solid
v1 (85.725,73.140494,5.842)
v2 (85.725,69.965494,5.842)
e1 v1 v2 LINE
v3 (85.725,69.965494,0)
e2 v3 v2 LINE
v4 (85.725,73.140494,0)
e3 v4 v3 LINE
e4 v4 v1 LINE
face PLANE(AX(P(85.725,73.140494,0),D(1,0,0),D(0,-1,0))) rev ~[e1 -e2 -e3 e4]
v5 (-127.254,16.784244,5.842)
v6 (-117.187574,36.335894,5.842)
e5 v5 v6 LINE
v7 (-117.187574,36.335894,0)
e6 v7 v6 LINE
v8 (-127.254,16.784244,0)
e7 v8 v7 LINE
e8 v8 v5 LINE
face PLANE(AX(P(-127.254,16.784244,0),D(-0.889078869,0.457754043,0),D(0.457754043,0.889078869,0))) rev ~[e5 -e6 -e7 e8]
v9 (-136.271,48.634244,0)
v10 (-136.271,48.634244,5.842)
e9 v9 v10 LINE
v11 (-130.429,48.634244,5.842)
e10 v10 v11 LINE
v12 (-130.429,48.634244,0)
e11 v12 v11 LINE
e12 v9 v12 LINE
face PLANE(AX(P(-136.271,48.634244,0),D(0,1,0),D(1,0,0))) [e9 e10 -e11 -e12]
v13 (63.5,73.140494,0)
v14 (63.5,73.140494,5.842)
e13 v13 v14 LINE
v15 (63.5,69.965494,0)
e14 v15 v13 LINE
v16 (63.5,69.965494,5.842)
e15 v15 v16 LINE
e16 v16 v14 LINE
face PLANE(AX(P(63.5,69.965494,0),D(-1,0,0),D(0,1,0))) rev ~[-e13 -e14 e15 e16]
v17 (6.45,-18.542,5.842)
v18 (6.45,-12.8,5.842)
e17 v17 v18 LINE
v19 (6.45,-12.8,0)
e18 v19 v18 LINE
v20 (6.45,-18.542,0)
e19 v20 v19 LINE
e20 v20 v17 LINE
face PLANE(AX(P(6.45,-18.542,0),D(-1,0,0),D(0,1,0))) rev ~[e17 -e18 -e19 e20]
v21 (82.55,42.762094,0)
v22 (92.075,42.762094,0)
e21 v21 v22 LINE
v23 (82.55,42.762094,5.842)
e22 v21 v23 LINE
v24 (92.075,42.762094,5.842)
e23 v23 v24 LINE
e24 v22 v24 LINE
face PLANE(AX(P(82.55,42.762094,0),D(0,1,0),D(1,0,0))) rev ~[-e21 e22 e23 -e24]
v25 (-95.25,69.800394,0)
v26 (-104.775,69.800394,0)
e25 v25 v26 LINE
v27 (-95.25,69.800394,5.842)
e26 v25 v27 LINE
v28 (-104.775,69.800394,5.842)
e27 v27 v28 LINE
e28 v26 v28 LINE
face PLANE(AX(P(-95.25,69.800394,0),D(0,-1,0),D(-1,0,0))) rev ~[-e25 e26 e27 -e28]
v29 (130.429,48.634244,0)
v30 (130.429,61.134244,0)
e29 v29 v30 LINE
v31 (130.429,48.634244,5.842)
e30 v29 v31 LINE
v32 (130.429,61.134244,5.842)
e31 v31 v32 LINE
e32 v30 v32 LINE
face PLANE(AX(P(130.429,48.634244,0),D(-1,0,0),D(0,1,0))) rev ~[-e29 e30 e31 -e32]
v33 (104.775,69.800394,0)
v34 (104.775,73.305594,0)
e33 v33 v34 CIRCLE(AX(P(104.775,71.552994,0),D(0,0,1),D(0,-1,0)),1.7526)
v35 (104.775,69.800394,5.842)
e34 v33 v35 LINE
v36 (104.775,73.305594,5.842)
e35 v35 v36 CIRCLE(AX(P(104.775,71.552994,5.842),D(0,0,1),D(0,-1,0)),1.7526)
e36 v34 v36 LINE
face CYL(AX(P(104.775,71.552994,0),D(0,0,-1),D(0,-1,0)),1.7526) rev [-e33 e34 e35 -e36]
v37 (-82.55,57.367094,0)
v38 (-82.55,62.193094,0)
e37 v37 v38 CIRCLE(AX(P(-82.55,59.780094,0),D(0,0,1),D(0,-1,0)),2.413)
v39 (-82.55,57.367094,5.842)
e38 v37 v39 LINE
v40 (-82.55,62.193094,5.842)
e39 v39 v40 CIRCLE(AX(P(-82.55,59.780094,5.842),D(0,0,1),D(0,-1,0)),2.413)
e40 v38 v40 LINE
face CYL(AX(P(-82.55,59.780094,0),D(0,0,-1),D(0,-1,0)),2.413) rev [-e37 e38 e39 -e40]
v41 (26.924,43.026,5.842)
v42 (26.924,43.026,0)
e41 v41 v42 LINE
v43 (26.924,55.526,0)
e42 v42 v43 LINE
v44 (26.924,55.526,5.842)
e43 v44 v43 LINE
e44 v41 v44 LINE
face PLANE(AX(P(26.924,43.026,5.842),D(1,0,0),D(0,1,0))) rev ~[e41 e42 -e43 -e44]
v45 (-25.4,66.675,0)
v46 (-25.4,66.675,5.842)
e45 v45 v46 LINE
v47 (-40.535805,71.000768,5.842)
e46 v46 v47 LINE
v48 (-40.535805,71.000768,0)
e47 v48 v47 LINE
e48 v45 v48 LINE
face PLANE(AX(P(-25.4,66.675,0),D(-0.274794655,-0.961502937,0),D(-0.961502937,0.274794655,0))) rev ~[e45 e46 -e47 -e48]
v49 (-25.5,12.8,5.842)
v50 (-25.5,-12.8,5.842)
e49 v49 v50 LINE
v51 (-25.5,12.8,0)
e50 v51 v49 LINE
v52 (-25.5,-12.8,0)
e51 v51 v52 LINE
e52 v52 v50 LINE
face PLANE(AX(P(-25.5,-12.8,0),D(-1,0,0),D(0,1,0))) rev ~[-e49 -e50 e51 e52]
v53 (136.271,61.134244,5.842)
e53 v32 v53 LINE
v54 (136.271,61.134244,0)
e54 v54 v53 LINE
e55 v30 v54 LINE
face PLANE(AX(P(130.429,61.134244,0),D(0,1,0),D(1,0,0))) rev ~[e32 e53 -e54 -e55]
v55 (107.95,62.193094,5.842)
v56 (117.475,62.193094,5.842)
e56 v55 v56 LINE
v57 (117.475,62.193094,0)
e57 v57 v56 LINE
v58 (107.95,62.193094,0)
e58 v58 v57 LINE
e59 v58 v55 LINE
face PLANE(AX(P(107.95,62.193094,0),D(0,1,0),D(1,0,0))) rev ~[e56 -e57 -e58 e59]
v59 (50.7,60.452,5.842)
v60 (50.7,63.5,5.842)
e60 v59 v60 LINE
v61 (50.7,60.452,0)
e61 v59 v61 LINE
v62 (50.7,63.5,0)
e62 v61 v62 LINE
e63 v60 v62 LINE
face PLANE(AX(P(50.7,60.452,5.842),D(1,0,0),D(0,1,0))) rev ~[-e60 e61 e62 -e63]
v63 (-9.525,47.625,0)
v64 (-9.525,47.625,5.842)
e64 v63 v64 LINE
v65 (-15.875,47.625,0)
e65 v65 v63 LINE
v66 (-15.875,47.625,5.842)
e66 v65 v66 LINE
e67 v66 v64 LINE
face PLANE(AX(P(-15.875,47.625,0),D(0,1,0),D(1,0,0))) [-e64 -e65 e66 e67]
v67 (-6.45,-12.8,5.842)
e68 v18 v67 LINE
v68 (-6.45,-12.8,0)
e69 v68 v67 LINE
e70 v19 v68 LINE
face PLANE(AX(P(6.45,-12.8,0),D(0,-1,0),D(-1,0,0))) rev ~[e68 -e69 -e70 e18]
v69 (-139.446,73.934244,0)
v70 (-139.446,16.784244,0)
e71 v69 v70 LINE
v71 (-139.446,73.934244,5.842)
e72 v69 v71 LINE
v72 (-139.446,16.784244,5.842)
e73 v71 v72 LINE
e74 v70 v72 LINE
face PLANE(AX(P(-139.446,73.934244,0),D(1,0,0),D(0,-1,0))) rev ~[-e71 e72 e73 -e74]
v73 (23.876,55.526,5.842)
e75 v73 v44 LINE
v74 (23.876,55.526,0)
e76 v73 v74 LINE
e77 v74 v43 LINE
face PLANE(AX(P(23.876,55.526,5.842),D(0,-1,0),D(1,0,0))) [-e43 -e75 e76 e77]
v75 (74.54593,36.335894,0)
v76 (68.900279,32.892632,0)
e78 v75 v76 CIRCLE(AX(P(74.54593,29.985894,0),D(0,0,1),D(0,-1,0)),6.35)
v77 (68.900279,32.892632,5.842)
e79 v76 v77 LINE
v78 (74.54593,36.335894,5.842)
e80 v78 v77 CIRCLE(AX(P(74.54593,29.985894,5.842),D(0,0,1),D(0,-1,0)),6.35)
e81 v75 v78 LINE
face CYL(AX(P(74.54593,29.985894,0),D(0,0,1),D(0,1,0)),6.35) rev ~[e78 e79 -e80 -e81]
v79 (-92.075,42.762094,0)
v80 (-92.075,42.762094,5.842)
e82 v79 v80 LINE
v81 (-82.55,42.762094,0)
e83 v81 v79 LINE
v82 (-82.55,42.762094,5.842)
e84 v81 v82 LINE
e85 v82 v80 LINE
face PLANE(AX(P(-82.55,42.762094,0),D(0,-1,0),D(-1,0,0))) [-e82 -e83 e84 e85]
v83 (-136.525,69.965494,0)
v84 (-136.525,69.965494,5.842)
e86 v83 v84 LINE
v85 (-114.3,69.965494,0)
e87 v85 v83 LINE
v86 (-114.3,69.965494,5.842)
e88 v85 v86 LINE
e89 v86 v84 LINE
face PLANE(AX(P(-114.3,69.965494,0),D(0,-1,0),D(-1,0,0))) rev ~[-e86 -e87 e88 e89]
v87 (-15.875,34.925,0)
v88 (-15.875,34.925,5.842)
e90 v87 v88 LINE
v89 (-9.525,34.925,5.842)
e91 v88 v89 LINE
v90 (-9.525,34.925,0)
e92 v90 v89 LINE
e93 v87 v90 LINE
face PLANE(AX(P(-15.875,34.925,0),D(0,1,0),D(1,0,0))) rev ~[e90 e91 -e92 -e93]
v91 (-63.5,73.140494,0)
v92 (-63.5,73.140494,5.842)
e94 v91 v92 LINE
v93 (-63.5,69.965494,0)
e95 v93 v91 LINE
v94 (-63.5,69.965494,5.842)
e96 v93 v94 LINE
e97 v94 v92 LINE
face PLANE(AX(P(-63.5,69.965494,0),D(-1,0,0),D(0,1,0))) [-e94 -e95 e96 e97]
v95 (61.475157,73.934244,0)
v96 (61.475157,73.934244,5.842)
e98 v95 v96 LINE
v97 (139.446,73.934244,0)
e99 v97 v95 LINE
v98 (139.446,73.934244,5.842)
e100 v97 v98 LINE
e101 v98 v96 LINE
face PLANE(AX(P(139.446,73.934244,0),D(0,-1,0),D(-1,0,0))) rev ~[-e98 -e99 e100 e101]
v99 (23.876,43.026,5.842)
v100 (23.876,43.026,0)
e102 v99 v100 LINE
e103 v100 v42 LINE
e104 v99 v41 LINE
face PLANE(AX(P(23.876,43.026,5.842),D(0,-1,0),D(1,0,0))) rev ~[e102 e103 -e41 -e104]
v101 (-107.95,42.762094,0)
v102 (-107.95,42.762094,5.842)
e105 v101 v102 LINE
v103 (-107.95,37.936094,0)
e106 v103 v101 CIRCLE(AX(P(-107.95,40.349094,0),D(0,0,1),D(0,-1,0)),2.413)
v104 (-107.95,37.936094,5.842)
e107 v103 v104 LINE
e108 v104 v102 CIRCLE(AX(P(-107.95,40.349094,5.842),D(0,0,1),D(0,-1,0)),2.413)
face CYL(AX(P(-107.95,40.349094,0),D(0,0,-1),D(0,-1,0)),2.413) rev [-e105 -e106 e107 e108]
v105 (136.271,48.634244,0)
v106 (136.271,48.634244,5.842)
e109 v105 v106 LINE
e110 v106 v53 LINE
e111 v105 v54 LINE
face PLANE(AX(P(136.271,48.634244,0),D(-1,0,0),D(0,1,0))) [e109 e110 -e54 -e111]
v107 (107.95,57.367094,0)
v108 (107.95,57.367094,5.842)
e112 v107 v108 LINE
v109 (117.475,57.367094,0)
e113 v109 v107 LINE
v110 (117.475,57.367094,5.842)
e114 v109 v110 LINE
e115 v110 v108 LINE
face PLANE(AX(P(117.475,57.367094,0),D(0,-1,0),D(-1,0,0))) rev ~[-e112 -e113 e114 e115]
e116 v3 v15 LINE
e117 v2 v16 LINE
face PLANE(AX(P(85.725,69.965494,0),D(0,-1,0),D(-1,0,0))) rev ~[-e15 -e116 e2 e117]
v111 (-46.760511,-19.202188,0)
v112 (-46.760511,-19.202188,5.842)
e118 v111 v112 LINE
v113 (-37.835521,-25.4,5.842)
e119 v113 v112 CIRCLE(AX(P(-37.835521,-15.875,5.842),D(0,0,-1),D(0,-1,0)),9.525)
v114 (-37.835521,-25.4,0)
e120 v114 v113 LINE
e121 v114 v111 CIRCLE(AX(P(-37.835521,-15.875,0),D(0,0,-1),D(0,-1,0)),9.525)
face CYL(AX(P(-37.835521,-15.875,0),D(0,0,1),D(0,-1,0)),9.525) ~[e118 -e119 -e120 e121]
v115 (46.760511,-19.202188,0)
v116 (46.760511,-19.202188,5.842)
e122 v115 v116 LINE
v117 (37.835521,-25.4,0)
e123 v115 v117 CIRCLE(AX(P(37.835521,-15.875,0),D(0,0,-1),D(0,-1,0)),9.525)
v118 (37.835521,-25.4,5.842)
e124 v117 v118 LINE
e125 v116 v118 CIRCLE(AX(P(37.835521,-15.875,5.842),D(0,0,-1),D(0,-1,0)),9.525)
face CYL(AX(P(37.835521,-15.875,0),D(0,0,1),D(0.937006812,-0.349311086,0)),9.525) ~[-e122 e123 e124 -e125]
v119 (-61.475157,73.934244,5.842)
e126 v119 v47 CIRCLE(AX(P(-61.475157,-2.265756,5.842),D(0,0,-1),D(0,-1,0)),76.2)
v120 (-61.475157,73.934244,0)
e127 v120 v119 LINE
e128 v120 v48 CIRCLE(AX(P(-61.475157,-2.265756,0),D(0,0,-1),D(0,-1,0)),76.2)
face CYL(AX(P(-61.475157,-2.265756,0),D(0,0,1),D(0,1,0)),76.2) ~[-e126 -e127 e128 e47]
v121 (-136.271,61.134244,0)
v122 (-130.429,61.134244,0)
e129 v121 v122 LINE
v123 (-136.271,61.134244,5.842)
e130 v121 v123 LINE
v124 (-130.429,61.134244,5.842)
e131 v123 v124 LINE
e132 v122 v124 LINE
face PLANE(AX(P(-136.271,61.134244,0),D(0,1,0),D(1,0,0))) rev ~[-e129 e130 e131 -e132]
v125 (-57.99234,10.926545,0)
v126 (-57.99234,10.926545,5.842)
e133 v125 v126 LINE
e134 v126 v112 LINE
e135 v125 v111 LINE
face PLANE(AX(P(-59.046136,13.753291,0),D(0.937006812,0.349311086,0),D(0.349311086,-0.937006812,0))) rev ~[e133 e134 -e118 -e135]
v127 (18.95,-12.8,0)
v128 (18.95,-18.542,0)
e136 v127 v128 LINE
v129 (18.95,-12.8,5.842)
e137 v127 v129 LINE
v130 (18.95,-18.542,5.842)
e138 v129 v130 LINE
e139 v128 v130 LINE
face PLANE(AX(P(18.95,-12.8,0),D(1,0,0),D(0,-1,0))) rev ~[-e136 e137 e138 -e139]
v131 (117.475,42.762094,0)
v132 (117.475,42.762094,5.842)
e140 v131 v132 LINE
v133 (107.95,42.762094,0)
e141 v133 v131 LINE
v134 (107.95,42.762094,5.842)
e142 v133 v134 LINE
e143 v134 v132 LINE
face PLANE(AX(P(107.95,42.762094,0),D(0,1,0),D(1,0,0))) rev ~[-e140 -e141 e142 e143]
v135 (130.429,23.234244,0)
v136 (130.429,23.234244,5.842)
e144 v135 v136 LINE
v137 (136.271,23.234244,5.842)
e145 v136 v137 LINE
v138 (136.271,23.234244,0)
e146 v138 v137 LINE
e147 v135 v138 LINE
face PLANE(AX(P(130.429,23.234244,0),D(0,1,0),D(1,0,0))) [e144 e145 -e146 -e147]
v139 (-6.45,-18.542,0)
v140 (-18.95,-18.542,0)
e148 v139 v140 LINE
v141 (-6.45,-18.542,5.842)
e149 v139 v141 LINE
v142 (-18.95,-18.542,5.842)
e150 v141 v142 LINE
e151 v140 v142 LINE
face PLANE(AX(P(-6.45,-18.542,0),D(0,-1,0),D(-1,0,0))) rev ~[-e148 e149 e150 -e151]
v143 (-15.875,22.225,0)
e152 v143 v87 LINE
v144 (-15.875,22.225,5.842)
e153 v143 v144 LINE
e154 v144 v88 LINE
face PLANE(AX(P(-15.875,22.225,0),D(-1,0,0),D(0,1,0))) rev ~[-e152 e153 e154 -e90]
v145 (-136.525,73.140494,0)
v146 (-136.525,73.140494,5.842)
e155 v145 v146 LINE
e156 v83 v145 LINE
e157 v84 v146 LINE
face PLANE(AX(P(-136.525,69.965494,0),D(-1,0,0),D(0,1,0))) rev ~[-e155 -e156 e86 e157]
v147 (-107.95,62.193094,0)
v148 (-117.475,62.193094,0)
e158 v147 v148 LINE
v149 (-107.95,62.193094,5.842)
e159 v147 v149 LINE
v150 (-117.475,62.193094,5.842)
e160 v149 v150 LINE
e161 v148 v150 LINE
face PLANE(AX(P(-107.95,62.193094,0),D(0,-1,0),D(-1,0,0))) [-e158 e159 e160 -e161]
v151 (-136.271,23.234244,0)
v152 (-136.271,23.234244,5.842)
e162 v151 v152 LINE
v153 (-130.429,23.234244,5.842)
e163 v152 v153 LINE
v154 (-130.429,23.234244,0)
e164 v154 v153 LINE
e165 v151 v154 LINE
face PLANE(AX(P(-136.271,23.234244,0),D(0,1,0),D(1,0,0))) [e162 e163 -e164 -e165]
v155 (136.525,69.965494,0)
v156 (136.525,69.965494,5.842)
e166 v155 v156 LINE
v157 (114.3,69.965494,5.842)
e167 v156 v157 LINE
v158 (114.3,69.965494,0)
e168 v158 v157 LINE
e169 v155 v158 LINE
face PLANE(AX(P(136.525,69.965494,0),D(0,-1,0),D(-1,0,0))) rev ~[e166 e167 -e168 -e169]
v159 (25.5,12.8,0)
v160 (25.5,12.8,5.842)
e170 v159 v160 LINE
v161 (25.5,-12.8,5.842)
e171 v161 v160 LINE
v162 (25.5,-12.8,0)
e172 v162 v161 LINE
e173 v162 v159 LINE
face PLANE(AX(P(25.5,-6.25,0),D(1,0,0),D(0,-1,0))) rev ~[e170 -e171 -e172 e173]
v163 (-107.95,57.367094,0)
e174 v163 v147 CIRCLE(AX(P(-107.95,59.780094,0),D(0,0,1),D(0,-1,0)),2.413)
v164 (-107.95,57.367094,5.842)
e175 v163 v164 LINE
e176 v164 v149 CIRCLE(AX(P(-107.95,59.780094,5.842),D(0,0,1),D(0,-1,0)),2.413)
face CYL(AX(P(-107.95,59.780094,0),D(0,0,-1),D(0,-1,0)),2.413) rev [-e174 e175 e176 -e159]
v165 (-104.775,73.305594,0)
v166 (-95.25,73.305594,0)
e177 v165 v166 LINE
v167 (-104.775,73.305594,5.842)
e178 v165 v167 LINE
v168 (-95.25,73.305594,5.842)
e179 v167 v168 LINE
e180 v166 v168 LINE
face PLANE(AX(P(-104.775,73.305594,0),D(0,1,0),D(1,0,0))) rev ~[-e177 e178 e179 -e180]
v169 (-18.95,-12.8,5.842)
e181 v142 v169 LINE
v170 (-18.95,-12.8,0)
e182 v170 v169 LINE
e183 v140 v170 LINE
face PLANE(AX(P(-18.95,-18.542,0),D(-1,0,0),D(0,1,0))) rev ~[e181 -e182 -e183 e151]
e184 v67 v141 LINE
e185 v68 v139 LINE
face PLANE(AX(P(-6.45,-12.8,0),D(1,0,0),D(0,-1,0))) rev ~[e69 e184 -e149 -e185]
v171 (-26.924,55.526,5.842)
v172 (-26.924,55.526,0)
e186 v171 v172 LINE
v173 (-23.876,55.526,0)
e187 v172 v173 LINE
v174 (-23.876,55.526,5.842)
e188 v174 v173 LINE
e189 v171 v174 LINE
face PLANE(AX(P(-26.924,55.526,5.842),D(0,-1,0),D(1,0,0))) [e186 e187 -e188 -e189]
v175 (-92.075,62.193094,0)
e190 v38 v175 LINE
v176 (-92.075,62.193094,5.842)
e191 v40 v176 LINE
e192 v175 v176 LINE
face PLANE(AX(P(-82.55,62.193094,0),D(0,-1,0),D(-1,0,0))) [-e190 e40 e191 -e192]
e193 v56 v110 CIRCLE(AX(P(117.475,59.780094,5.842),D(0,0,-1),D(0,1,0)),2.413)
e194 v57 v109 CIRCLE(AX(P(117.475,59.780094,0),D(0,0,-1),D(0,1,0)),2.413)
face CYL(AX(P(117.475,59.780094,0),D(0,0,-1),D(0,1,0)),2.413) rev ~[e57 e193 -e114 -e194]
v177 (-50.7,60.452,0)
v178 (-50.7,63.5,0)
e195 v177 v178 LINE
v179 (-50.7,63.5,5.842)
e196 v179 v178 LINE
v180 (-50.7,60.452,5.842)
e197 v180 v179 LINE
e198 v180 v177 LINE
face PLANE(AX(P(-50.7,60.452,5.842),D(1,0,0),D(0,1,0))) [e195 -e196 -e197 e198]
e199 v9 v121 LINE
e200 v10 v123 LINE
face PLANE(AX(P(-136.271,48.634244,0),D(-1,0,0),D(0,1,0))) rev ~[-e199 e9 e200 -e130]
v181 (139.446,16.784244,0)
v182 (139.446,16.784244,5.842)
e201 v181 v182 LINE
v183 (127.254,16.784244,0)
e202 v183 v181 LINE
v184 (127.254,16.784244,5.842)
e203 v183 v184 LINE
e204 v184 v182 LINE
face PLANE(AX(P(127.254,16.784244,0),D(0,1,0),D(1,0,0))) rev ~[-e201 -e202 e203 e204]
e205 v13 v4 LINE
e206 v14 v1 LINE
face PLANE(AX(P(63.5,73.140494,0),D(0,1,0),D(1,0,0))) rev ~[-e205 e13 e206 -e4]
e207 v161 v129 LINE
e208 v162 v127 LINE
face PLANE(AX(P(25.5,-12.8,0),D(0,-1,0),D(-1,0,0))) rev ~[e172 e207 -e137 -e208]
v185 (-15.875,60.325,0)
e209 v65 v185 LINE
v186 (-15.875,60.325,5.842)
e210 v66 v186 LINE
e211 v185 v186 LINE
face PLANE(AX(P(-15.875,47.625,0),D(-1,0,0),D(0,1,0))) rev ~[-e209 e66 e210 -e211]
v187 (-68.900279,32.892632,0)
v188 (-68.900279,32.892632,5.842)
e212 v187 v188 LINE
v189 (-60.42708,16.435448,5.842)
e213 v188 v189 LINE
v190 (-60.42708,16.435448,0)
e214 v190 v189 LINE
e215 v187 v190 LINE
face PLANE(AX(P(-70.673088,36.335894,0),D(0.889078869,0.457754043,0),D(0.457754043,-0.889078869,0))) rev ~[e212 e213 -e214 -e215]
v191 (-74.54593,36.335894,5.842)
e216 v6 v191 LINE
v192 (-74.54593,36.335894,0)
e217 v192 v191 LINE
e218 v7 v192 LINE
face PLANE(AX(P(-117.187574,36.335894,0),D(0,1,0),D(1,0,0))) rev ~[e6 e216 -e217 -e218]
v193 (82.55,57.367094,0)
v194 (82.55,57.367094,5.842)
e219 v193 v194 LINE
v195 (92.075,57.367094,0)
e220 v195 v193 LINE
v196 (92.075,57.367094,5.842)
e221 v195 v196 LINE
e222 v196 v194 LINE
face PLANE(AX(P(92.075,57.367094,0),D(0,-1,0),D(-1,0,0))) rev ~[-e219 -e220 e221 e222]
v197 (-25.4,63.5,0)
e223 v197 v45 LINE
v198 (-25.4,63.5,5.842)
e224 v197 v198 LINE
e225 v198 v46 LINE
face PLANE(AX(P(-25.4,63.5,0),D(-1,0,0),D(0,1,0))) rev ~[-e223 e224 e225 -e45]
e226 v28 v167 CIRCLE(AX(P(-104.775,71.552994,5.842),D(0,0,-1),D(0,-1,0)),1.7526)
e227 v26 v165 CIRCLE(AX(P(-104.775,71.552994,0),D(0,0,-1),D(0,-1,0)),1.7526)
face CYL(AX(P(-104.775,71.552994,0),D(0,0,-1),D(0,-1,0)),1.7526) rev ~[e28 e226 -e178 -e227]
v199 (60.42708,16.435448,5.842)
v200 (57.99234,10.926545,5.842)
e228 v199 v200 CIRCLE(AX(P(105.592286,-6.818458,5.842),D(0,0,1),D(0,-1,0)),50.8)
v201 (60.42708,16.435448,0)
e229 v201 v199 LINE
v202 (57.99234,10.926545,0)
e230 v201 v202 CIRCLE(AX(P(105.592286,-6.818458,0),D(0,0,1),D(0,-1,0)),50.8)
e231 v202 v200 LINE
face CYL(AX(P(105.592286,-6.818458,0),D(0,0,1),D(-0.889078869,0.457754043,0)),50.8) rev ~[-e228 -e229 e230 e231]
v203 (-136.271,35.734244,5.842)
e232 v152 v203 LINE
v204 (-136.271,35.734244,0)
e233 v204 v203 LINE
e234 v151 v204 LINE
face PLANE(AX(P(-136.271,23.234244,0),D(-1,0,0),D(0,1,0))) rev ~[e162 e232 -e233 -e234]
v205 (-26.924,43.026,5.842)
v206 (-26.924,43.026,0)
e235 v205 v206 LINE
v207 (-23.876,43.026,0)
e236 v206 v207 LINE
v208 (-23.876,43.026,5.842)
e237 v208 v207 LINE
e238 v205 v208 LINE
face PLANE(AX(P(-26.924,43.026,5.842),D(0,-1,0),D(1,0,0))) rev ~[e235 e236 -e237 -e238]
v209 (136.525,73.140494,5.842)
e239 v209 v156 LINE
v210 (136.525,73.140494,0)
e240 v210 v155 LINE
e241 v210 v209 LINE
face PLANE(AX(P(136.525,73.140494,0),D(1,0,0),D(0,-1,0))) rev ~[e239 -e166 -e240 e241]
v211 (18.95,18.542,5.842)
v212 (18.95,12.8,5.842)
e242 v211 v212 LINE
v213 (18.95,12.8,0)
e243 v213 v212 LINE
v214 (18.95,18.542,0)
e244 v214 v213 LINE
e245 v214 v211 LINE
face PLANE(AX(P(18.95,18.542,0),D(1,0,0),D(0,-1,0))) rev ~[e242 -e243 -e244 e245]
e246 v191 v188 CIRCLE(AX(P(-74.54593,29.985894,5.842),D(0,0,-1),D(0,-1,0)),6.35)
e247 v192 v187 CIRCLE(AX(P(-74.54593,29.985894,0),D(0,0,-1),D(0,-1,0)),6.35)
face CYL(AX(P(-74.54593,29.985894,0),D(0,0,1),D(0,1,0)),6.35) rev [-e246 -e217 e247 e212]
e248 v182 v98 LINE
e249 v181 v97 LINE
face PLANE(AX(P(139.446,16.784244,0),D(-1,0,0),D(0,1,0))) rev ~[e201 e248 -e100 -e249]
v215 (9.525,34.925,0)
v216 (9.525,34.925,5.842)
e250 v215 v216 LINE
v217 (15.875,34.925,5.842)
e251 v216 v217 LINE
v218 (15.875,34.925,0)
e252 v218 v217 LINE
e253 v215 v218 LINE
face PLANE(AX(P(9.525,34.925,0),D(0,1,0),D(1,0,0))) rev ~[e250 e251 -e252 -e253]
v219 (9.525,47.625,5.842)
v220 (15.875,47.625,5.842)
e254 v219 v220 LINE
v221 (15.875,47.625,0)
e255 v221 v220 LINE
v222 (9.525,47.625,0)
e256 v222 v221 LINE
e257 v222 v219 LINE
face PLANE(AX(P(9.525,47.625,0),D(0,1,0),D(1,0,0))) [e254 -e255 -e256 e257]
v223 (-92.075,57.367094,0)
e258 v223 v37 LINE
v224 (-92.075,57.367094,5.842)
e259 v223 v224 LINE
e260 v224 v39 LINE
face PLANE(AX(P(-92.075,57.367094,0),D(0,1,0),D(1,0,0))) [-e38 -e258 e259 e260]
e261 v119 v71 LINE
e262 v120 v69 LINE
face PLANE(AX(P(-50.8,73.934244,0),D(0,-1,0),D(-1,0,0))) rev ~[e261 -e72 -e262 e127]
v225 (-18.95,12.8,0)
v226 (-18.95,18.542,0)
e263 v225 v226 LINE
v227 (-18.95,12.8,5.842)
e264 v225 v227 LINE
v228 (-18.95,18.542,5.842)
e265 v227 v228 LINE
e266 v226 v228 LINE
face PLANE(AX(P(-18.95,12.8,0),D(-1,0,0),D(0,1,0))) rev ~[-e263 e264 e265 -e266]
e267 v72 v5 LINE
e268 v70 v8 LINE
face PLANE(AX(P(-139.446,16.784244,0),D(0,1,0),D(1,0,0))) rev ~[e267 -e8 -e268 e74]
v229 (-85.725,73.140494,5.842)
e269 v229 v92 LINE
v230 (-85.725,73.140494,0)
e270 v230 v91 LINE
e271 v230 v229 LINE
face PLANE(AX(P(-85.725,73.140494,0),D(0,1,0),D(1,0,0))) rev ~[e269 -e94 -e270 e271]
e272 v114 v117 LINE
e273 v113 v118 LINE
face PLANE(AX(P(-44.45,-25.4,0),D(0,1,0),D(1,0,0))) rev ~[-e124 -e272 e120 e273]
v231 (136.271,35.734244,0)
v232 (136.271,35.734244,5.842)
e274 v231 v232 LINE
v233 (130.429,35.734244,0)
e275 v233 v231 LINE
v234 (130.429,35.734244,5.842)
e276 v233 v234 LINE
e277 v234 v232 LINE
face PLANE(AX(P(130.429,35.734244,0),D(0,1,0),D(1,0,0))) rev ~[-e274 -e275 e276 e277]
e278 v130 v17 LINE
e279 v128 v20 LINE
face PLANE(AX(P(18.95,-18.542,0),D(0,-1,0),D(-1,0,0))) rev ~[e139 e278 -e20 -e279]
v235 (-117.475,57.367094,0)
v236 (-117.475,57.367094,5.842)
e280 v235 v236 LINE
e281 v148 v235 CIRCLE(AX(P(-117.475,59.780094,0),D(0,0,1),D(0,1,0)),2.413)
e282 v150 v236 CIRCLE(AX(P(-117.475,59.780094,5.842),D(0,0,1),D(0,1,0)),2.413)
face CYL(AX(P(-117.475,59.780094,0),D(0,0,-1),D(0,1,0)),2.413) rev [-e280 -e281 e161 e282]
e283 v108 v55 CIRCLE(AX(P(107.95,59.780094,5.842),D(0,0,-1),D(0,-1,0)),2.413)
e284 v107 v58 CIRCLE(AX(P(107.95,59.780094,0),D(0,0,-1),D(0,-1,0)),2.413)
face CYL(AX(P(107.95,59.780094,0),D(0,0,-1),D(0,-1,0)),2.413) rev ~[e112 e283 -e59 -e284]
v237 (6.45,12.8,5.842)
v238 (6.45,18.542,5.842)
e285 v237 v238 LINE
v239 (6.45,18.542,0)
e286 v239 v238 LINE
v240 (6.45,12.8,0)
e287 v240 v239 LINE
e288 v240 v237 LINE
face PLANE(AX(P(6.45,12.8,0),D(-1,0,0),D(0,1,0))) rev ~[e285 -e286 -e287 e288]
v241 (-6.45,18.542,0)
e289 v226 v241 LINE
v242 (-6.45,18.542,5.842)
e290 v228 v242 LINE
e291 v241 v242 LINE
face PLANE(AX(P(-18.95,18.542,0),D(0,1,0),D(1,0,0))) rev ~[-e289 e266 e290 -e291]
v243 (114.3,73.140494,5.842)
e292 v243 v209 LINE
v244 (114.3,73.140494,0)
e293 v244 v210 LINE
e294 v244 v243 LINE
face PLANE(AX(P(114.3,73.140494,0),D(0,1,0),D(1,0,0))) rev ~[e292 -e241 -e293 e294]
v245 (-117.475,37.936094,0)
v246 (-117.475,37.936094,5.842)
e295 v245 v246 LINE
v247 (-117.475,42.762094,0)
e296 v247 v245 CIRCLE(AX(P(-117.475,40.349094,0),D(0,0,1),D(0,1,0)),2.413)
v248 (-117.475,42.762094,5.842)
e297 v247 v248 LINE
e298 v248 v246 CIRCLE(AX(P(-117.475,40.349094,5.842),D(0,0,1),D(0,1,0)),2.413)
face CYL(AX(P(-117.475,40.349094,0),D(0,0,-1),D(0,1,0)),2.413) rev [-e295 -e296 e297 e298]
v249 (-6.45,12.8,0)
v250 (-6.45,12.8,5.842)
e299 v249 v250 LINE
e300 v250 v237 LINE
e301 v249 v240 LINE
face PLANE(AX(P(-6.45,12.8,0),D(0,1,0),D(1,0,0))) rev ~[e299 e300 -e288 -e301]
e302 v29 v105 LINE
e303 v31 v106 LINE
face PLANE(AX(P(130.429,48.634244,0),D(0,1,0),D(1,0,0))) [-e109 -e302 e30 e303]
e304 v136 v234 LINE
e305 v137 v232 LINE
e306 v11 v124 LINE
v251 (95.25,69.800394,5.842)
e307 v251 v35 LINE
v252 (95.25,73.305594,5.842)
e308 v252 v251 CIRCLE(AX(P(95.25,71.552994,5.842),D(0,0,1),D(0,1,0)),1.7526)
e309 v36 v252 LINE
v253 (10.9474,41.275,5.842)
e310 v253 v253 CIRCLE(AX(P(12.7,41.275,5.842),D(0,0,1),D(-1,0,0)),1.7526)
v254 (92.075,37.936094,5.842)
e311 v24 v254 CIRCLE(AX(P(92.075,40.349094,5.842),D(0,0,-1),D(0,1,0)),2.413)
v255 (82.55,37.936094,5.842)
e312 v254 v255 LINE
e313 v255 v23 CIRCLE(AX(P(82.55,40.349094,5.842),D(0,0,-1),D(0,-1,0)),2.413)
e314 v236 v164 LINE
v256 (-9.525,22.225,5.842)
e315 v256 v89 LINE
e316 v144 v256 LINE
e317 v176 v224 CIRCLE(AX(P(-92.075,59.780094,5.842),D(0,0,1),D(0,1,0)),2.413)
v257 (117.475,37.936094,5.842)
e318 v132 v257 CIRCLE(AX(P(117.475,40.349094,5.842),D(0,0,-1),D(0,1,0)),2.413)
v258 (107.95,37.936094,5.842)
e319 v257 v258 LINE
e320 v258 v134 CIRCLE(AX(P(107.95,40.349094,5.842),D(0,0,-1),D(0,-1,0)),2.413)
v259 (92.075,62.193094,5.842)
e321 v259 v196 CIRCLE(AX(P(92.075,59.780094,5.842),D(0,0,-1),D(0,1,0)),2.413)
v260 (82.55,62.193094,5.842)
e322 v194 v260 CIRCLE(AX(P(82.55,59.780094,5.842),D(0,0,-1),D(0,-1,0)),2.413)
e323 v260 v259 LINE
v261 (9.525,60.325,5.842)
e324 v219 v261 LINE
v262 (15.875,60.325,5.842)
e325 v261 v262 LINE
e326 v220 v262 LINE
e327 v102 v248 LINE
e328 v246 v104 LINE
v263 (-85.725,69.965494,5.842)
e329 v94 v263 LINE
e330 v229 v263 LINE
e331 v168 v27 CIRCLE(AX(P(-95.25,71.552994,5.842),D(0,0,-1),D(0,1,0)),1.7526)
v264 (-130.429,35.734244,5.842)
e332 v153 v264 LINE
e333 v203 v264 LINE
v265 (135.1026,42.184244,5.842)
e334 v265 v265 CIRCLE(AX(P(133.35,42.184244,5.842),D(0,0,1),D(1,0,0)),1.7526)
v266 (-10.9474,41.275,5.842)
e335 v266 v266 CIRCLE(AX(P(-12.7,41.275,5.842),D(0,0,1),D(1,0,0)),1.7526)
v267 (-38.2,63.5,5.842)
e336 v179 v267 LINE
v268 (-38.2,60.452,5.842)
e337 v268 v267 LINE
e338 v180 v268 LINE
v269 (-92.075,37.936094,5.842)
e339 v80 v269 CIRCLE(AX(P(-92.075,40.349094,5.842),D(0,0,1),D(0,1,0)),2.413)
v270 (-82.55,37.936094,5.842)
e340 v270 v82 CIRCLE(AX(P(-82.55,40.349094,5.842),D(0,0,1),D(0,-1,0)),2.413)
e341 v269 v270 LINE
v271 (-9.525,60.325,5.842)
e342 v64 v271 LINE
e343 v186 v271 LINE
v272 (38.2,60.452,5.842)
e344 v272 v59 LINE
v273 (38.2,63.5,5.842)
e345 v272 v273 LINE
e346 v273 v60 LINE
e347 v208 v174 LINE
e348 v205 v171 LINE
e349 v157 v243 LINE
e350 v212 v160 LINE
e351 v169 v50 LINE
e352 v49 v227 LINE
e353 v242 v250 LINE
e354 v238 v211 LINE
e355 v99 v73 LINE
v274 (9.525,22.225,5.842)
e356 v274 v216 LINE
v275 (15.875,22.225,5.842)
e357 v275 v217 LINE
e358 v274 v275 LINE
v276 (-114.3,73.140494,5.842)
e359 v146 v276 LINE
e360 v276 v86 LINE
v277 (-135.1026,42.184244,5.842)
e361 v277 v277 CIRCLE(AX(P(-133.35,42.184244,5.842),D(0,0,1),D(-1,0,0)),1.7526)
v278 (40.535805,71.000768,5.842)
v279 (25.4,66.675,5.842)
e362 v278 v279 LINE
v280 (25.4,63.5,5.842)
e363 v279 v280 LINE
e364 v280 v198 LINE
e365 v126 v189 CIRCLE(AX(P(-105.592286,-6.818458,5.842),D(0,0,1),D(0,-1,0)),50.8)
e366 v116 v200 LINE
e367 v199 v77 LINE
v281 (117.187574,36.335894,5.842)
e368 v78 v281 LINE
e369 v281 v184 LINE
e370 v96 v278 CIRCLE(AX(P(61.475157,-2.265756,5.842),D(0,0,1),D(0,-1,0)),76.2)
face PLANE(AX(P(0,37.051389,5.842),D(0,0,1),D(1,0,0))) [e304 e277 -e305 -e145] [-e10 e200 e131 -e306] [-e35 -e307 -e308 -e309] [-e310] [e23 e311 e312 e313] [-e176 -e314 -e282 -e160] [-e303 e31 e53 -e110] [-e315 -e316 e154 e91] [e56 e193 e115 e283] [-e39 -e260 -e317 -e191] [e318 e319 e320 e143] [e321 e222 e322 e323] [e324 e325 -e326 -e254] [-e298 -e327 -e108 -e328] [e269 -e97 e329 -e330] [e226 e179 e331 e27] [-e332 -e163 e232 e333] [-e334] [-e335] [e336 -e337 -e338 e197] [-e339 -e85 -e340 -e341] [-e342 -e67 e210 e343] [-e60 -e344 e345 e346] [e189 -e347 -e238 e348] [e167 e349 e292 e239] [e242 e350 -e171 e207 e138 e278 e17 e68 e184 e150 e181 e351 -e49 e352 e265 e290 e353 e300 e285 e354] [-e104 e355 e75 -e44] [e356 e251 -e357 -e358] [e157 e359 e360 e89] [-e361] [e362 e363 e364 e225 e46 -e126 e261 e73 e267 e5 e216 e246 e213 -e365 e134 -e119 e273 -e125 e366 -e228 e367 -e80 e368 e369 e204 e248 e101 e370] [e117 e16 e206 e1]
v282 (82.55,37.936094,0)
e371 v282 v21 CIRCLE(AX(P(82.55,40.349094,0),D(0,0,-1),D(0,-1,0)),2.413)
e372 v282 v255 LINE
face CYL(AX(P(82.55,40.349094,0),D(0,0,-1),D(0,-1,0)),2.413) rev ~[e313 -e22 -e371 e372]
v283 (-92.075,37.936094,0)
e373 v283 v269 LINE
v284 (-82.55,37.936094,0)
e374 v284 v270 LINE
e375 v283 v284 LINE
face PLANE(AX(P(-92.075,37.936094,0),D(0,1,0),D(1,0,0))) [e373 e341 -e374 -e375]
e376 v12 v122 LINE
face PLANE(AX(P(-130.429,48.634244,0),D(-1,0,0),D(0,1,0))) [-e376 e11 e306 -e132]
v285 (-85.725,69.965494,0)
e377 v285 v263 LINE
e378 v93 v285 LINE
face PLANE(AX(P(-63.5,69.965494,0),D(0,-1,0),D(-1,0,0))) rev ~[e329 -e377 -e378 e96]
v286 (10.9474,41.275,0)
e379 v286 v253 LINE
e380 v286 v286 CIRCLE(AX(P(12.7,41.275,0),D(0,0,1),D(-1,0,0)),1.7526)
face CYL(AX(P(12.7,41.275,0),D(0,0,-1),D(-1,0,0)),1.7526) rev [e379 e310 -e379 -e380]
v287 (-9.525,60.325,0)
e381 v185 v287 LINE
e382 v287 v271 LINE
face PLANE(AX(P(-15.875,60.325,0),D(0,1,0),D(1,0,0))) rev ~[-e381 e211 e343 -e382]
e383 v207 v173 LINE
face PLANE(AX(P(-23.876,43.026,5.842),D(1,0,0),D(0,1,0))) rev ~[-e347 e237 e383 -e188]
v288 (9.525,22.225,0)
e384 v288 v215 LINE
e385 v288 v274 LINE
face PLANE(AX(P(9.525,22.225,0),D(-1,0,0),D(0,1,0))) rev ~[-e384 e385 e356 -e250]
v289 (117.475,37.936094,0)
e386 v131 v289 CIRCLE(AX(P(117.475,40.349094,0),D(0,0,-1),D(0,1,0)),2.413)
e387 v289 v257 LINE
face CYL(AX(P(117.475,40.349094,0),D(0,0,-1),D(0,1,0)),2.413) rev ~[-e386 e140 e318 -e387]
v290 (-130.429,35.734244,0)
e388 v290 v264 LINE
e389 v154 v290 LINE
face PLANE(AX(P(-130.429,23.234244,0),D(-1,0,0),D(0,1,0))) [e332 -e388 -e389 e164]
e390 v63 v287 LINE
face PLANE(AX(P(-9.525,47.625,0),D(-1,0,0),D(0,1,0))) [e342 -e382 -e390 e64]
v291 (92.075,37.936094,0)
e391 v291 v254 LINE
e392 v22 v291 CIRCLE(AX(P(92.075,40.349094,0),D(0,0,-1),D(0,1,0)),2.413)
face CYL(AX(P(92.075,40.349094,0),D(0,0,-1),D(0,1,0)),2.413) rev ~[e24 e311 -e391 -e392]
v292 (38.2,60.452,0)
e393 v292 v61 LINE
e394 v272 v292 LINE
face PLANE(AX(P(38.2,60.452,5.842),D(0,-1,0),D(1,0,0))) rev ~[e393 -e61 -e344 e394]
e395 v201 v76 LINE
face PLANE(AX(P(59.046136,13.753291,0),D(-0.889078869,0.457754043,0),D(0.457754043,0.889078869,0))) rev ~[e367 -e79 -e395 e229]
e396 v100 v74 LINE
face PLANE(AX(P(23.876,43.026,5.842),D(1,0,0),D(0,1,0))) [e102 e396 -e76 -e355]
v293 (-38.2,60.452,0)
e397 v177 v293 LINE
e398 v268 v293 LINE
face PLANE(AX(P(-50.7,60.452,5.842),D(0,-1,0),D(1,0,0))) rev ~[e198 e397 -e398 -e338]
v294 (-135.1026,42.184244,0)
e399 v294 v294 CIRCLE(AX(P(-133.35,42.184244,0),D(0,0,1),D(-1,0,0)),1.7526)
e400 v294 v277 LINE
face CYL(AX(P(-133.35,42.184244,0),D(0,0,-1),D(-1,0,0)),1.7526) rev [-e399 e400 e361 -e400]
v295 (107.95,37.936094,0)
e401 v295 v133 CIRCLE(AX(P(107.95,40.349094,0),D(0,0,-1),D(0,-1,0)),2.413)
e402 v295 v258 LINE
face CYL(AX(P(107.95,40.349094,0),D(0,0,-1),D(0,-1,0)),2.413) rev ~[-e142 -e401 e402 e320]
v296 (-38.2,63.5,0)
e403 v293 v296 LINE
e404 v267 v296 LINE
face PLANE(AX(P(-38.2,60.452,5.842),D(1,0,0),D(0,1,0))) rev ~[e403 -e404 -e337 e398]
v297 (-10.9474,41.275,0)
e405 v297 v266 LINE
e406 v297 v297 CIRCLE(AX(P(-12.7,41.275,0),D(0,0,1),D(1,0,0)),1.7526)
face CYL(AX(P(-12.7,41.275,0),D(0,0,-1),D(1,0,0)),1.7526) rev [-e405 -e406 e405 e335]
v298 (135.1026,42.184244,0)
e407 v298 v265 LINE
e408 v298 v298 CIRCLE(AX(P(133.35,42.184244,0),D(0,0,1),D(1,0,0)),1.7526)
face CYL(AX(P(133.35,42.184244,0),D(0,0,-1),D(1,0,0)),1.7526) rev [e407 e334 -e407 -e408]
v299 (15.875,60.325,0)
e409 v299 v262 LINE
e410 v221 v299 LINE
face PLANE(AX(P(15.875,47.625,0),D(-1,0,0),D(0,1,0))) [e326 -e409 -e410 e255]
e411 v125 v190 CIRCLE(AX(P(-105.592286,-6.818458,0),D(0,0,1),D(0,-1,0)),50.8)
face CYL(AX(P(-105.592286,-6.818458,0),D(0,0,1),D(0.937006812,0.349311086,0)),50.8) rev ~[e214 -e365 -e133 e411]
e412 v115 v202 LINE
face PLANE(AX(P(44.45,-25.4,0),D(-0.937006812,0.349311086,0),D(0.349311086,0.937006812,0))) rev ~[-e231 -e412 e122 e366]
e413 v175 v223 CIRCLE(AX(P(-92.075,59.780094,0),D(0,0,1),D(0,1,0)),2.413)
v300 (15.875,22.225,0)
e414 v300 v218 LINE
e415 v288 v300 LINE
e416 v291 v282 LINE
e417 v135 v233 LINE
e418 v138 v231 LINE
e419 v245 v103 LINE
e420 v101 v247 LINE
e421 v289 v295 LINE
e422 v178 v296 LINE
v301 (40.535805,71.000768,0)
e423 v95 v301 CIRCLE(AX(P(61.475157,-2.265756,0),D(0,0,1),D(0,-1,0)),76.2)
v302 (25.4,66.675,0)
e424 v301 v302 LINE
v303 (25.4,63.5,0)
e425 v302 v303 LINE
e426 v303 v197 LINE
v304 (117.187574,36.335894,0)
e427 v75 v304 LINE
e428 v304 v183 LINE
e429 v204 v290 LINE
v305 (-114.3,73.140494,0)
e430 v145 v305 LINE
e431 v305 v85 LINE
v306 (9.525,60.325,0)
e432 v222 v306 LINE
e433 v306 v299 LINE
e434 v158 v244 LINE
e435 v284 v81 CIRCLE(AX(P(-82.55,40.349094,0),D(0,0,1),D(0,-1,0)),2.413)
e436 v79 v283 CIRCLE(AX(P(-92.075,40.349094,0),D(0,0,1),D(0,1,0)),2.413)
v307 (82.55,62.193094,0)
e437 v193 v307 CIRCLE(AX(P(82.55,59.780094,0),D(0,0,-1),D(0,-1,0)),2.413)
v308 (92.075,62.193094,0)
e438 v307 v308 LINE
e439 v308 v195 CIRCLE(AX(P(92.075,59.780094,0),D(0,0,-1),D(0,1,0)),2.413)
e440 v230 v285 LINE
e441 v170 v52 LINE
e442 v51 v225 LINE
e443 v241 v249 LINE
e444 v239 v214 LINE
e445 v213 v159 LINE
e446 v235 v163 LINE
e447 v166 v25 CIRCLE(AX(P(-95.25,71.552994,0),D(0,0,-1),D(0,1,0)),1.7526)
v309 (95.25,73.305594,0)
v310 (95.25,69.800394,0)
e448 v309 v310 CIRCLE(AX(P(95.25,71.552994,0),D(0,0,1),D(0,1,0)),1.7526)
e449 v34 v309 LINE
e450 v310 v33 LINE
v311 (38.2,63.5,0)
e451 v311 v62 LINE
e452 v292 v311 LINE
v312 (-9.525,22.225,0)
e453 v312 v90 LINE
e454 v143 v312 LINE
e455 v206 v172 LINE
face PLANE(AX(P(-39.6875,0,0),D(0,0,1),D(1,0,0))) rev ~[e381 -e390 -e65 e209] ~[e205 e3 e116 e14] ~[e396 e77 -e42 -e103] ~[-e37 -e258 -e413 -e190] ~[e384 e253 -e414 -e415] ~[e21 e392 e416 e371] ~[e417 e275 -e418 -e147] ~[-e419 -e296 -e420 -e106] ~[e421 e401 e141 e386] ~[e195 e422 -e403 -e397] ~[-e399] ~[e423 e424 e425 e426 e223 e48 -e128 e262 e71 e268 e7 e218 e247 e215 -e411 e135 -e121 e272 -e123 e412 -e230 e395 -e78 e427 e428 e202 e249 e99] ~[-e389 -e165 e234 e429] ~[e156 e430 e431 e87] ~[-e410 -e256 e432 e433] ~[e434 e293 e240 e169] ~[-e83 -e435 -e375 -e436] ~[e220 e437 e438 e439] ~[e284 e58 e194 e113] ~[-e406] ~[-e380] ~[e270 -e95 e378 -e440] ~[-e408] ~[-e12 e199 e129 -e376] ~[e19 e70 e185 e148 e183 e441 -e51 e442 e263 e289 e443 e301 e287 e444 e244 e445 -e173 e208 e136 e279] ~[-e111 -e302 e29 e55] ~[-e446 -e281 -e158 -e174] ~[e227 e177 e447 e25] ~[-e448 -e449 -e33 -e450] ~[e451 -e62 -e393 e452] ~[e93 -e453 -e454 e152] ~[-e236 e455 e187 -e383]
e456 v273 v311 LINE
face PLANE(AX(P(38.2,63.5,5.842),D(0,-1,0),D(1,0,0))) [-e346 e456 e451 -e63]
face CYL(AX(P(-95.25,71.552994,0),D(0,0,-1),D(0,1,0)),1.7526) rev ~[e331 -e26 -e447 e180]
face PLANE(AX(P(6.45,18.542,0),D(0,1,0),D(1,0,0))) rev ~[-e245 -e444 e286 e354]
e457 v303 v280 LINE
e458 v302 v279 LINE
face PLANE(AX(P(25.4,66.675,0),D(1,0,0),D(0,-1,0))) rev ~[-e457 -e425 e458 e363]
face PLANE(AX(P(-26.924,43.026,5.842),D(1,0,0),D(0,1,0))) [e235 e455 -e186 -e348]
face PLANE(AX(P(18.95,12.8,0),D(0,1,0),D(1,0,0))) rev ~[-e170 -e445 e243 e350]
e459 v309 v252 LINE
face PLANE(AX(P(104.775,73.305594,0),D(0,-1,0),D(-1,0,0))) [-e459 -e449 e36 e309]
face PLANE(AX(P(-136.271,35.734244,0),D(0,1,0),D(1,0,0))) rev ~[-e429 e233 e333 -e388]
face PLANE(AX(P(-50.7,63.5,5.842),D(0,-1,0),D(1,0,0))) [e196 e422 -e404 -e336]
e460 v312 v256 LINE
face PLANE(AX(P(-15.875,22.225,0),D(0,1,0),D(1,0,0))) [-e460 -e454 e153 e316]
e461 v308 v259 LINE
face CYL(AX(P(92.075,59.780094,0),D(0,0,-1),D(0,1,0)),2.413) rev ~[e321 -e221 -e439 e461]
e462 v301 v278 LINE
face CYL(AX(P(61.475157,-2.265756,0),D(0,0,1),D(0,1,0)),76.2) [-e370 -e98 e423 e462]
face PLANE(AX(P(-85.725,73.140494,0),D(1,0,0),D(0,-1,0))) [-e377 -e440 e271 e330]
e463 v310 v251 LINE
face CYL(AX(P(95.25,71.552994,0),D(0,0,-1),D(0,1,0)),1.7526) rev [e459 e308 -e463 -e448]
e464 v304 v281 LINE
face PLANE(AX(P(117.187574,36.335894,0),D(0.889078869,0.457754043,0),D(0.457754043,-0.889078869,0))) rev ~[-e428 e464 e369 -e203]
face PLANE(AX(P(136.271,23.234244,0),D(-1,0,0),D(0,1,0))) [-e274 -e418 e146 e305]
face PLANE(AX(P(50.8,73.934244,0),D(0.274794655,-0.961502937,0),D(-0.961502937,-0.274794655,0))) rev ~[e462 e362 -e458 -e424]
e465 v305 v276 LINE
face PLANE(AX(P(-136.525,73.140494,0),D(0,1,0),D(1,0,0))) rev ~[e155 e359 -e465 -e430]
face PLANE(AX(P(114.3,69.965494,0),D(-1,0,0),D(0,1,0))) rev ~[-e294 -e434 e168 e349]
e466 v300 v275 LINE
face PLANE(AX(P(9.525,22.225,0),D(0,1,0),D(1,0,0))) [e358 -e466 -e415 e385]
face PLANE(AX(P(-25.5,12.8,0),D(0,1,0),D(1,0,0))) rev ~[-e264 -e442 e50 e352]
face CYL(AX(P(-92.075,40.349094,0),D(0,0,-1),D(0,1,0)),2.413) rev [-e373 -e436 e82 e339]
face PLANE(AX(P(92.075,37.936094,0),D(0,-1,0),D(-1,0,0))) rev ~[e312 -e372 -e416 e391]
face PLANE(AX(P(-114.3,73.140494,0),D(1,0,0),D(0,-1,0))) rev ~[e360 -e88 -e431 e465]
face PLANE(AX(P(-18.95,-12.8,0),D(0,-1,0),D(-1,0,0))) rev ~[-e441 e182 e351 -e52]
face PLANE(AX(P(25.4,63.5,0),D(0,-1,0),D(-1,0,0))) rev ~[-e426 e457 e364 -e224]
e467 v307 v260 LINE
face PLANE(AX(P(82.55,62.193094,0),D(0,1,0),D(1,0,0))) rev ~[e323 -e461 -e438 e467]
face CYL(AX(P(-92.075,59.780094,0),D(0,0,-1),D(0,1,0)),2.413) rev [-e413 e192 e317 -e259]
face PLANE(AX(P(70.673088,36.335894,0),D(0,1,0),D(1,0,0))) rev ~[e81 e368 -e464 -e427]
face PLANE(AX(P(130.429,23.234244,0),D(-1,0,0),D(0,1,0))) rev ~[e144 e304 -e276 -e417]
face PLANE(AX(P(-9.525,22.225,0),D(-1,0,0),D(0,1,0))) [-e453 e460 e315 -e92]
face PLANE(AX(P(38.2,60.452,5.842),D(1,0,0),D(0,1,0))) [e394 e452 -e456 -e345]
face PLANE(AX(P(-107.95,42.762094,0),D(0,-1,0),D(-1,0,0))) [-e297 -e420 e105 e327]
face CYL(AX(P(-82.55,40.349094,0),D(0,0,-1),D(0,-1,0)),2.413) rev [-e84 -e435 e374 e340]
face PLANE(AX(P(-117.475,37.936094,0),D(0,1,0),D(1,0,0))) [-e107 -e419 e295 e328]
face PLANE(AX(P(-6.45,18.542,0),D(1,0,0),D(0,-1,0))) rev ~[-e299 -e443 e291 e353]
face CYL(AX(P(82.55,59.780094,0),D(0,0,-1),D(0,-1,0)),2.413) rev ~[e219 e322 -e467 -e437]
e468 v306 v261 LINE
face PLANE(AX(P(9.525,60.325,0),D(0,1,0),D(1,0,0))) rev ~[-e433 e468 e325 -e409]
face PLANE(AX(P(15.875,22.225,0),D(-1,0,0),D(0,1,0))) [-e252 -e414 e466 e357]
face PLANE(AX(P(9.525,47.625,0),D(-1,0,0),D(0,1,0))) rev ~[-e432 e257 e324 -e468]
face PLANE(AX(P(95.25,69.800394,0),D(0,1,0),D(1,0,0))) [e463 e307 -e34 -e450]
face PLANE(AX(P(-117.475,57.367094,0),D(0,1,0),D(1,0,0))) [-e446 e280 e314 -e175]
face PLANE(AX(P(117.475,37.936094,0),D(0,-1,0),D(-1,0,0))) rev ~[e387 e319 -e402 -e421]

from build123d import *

# Parameters (mm, degrees)
SKETCH1_R           = 1.7526
SKETCH1_W           = 9.525
SKETCH1_H           = 11.684
SKETCH1_W_2         = 6.35
SKETCH1_H_2         = 12.7
SKETCH1_W_3         = 5.741999946
SKETCH1_H_3         = 12.5
SKETCH1_W_4         = 5.842
SKETCH1_W_5         = 12.7
SKETCH1_H_4         = 5.842
BOSS_EXTRUDE1_DEPTH = 5.842
FILLET1_R           = 6.35
FILLET2_R           = 9.525
FILLET4_R           = 76.2
FILLET5_R           = 50.8
SKETCH2_W           = 9.525
SKETCH2_H           = 37.084
BOSS_EXTRUDE2_DEPTH = 5.842
SKETCH3_W           = 39.726031453
SKETCH3_H           = 13.117085857
BOSS_EXTRUDE3_DEPTH = 5.842
SKETCH4_W           = 12.5
SKETCH4_H           = 3.048
SKETCH4_W_2         = 3.048
SKETCH4_H_2         = 12.5
CUT_EXTRUDE1_DEPTH  = 158.941724336


with BuildPart() as part:
    # Sketch1 → Boss-Extrude1 (new body)
    with BuildSketch(Plane.XY):
        Polygon((25.4, 63.5), (-25.4, 63.5), (-25.4, 66.675), (-50.8, 73.9342438), (-139.446, 73.9342438), (-139.446, 16.7842438), (-127.254, 16.7842438), (-117.187573781, 36.3358938), (-70.673088246, 36.3358938), (-59.046135547, 13.75329052), (-44.45, -25.4), (44.45, -25.4), (59.046135547, 13.75329052), (70.673088246, 36.3358938), (117.187573781, 36.3358938), (127.254, 16.7842438), (139.446, 16.7842438), (139.446, 73.9342438), (50.8, 73.9342438), (25.4, 66.675), align=None)
        with Locations((28.370999973, 38.1)):
            Circle(SKETCH1_R, mode=Mode.SUBTRACT)
        with Locations(Location((-28.370999973, 38.1, 0), (0, 0, 180))):
            Circle(SKETCH1_R, mode=Mode.SUBTRACT)
        with Locations((-12.7, 41.275)):
            Circle(SKETCH1_R, mode=Mode.SUBTRACT)
        with Locations(Location((12.7, 41.275, 0), (0, 0, 180))):
            Circle(SKETCH1_R, mode=Mode.SUBTRACT)
        with Locations((-72.516999946, 50.7499874)):
            Circle(SKETCH1_R, mode=Mode.SUBTRACT)
        with Locations(Location((-40.766999946, 50.7499874, 0), (0, 0, 180))):
            Circle(SKETCH1_R, mode=Mode.SUBTRACT)
        with Locations((40.766999946, 50.7499874)):
            Circle(SKETCH1_R, mode=Mode.SUBTRACT)
        with Locations(Location((72.516999946, 50.7499874, 0), (0, 0, 180))):
            Circle(SKETCH1_R, mode=Mode.SUBTRACT)
        with Locations((133.35, 42.1842438)):
            Circle(SKETCH1_R, mode=Mode.SUBTRACT)
        with Locations(Location((-133.35, 42.1842438, 0), (0, 0, 180))):
            Circle(SKETCH1_R, mode=Mode.SUBTRACT)
        Polygon((25.5, -12.8), (18.95, -12.8), (18.95, -18.542), (6.45, -18.542), (6.45, -12.8), (-6.45, -12.8), (-6.45, -18.542), (-18.95, -18.542), (-18.95, -12.8), (-25.5, -12.8), (-25.5, -6.25), (-31.241999946, -6.25), (-31.241999946, 6.25), (-25.5, 6.25), (-25.5, 12.8), (-18.95, 12.8), (-18.95, 18.542), (-6.45, 18.542), (-6.45, 12.8), (6.45, 12.8), (6.45, 18.542), (18.95, 18.542), (18.95, 12.8), (25.5, 12.8), (25.5, 6.25), (31.241999946, 6.25), (31.241999946, -6.25), (25.5, -6.25), align=None, mode=Mode.SUBTRACT)
        with Locations((39.6875, 12.7)):
            Rectangle(SKETCH1_W, SKETCH1_H, mode=Mode.SUBTRACT)
        with Locations((39.6875, -12.7)):
            Rectangle(SKETCH1_W, SKETCH1_H, mode=Mode.SUBTRACT)
        with Locations((-39.6875, -12.7)):
            Rectangle(SKETCH1_W, SKETCH1_H, mode=Mode.SUBTRACT)
        with Locations((-39.6875, 12.7)):
            Rectangle(SKETCH1_W, SKETCH1_H, mode=Mode.SUBTRACT)
        with Locations((-12.7, 28.575)):
            Rectangle(SKETCH1_W_2, SKETCH1_H_2, mode=Mode.SUBTRACT)
        with Locations((-12.7, 53.975)):
            Rectangle(SKETCH1_W_2, SKETCH1_H_2, mode=Mode.SUBTRACT)
        with BuildLine():
            Line((82.55, 62.1930938), (92.075, 62.1930938))
            ThreePointArc((92.075, 62.1930938), (94.488, 59.7800938), (92.075, 57.3670938))
            Line((92.075, 57.3670938), (82.55, 57.3670938))
            ThreePointArc((82.55, 57.3670938), (80.137, 59.7800938), (82.55, 62.1930938))
        make_face(mode=Mode.SUBTRACT)
        with BuildLine():
            Line((82.55, 42.7620938), (92.075, 42.7620938))
            ThreePointArc((92.075, 42.7620938), (94.488, 40.3490938), (92.075, 37.9360938))
            Line((92.075, 37.9360938), (82.55, 37.9360938))
            ThreePointArc((82.55, 37.9360938), (80.137, 40.3490938), (82.55, 42.7620938))
        make_face(mode=Mode.SUBTRACT)
        with BuildLine():
            Line((107.95, 62.1930938), (117.475, 62.1930938))
            ThreePointArc((117.475, 62.1930938), (119.888, 59.7800938), (117.475, 57.3670938))
            Line((117.475, 57.3670938), (107.95, 57.3670938))
            ThreePointArc((107.95, 57.3670938), (105.537, 59.7800938), (107.95, 62.1930938))
        make_face(mode=Mode.SUBTRACT)
        with BuildLine():
            Line((107.95, 42.7620938), (117.475, 42.7620938))
            ThreePointArc((117.475, 42.7620938), (119.888, 40.3490938), (117.475, 37.9360938))
            Line((117.475, 37.9360938), (107.95, 37.9360938))
            ThreePointArc((107.95, 37.9360938), (105.537, 40.3490938), (107.95, 42.7620938))
        make_face(mode=Mode.SUBTRACT)
        Polygon((63.5, 73.1404938), (76.2, 73.1404938), (85.725, 73.1404938), (85.725, 69.9654938), (76.2, 69.9654938), (63.5, 69.9654938), align=None, mode=Mode.SUBTRACT)
        Polygon((114.3, 73.1404938), (127, 73.1404938), (136.525, 73.1404938), (136.525, 69.9654938), (127, 69.9654938), (114.3, 69.9654938), align=None, mode=Mode.SUBTRACT)
        with Locations((-28.370999973, 50.8)):
            Rectangle(SKETCH1_W_3, SKETCH1_H_3, mode=Mode.SUBTRACT)
        with Locations((-28.370999973, 25.4)):
            Rectangle(SKETCH1_W_3, SKETCH1_H_3, mode=Mode.SUBTRACT)
        with Locations((28.370999973, 50.8)):
            Rectangle(SKETCH1_W_3, SKETCH1_H_3, mode=Mode.SUBTRACT)
        with Locations((28.370999973, 25.4)):
            Rectangle(SKETCH1_W_3, SKETCH1_H_3, mode=Mode.SUBTRACT)
        with Locations((133.35, 29.4842438)):
            Rectangle(SKETCH1_W_4, SKETCH1_H_3, mode=Mode.SUBTRACT)
        with Locations((133.35, 54.8842438)):
            Rectangle(SKETCH1_W_4, SKETCH1_H_3, mode=Mode.SUBTRACT)
        Polygon((-127, 69.9654938), (-136.525, 69.9654938), (-136.525, 73.1404938), (-127, 73.1404938), (-114.3, 73.1404938), (-114.3, 69.9654938), align=None, mode=Mode.SUBTRACT)
        Polygon((-85.725, 73.1404938), (-85.725, 69.9654938), (-76.2, 69.9654938), (-63.5, 69.9654938), (-63.5, 73.1404938), (-76.2, 73.1404938), align=None, mode=Mode.SUBTRACT)
        with BuildLine():
            Line((-107.95, 42.7620938), (-117.475, 42.7620938))
            ThreePointArc((-117.475, 42.7620938), (-119.888, 40.3490938), (-117.475, 37.9360938))
            Line((-117.475, 37.9360938), (-107.95, 37.9360938))
            ThreePointArc((-107.95, 37.9360938), (-105.537, 40.3490938), (-107.95, 42.7620938))
        make_face(mode=Mode.SUBTRACT)
        with BuildLine():
            Line((-107.95, 62.1930938), (-117.475, 62.1930938))
            ThreePointArc((-117.475, 62.1930938), (-119.888, 59.7800938), (-117.475, 57.3670938))
            Line((-117.475, 57.3670938), (-107.95, 57.3670938))
            ThreePointArc((-107.95, 57.3670938), (-105.537, 59.7800938), (-107.95, 62.1930938))
        make_face(mode=Mode.SUBTRACT)
        with BuildLine():
            Line((-82.55, 42.7620938), (-92.075, 42.7620938))
            ThreePointArc((-92.075, 42.7620938), (-94.488, 40.3490938), (-92.075, 37.9360938))
            Line((-92.075, 37.9360938), (-82.55, 37.9360938))
            ThreePointArc((-82.55, 37.9360938), (-80.137, 40.3490938), (-82.55, 42.7620938))
        make_face(mode=Mode.SUBTRACT)
        with BuildLine():
            Line((-82.55, 62.1930938), (-92.075, 62.1930938))
            ThreePointArc((-92.075, 62.1930938), (-94.488, 59.7800938), (-92.075, 57.3670938))
            Line((-92.075, 57.3670938), (-82.55, 57.3670938))
            ThreePointArc((-82.55, 57.3670938), (-80.137, 59.7800938), (-82.55, 62.1930938))
        make_face(mode=Mode.SUBTRACT)
        with Locations((12.7, 28.575)):
            Rectangle(SKETCH1_W_2, SKETCH1_H_2, mode=Mode.SUBTRACT)
        with Locations((12.7, 53.975)):
            Rectangle(SKETCH1_W_2, SKETCH1_H_2, mode=Mode.SUBTRACT)
        with BuildLine():
            Line((-95.25, 69.8003938), (-104.775, 69.8003938))
            ThreePointArc((-104.775, 69.8003938), (-106.5276, 71.5529938), (-104.775, 73.3055938))
            Line((-104.775, 73.3055938), (-95.25, 73.3055938))
            ThreePointArc((-95.25, 73.3055938), (-93.4974, 71.5529938), (-95.25, 69.8003938))
        make_face(mode=Mode.SUBTRACT)
        with Locations((56.641999946, 50.7499874)):
            Rectangle(SKETCH1_W_5, SKETCH1_H_4, mode=Mode.SUBTRACT)
        with Locations((-56.641999946, 50.7499874)):
            Rectangle(SKETCH1_W_5, SKETCH1_H_4, mode=Mode.SUBTRACT)
        with BuildLine():
            Line((95.25, 69.8003938), (104.775, 69.8003938))
            ThreePointArc((104.775, 69.8003938), (106.5276, 71.5529938), (104.775, 73.3055938))
            Line((104.775, 73.3055938), (95.25, 73.3055938))
            ThreePointArc((95.25, 73.3055938), (93.4974, 71.5529938), (95.25, 69.8003938))
        make_face(mode=Mode.SUBTRACT)
        with Locations((-133.35, 29.4842438)):
            Rectangle(SKETCH1_W_4, SKETCH1_H_3, mode=Mode.SUBTRACT)
        with Locations((-133.35, 54.8842438)):
            Rectangle(SKETCH1_W_4, SKETCH1_H_3, mode=Mode.SUBTRACT)
    extrude(amount=BOSS_EXTRUDE1_DEPTH)

    # Fillet1
    fillet1_edges = [part.edges().sort_by_distance(p)[0] for p in [
        (70.673088246, 36.3358938, 2.921),
        (-70.673088246, 36.3358938, 2.921),
    ]]
    fillet(fillet1_edges, radius=FILLET1_R)

    # Fillet2
    fillet2_edges = [part.edges().sort_by_distance(p)[0] for p in [
        (44.45, -25.4, 2.921),
        (-44.45, -25.4, 2.921),
    ]]
    fillet(fillet2_edges, radius=FILLET2_R)

    # Fillet4
    fillet4_edges = [part.edges().sort_by_distance(p)[0] for p in [
        (50.8, 73.9342438, 2.921),
        (-50.8, 73.9342438, 2.921),
    ]]
    fillet(fillet4_edges, radius=FILLET4_R)

    # Fillet5
    fillet5_edges = [part.edges().sort_by_distance(p)[0] for p in [
        (59.046135547, 13.75329052, 2.921),
        (-59.046135547, 13.75329052, 2.921),
    ]]
    fillet(fillet5_edges, radius=FILLET5_R)

    # Sketch2 → Boss-Extrude2 (add)
    with BuildSketch(Plane.XY.offset(5.842)):
        with Locations((-39.6875, 0)):
            Rectangle(SKETCH2_W, SKETCH2_H)
        with Locations((39.6875, 0)):
            Rectangle(SKETCH2_W, SKETCH2_H)
    extrude(amount=-BOSS_EXTRUDE2_DEPTH)

    # Sketch3 → Boss-Extrude3 (add)
    with BuildSketch(Plane.XY.offset(5.842)):
        with Locations((-57.1552409, 51.348468537)):
            Rectangle(SKETCH3_W, SKETCH3_H)
        Polygon((-31.241999946, 57.05), (-25.5, 57.05), (-25.5, 19.15), (-25.5, -6.25), (-31.241999946, -6.25), (-31.241999946, 19.15), align=None)
        Polygon((25.5, 57.05), (25.5, 19.15), (25.5, -6.25), (31.241999946, -6.25), (31.241999946, 19.15), (31.241999946, 57.05), align=None)
        with Locations((57.1552409, 51.348468537)):
            Rectangle(SKETCH3_W, SKETCH3_H)
    extrude(amount=-BOSS_EXTRUDE3_DEPTH)

    # Sketch4 → Cut-Extrude1 (cut, through all)
    with BuildSketch(Plane.XY.offset(5.842)):
        with Locations((44.45, 61.976)):
            Rectangle(SKETCH4_W, SKETCH4_H)
        with Locations((-44.45, 61.976)):
            Rectangle(SKETCH4_W, SKETCH4_H)
        with Locations((-25.4, 49.276)):
            Rectangle(SKETCH4_W_2, SKETCH4_H_2)
        with Locations((25.4, 49.276)):
            Rectangle(SKETCH4_W_2, SKETCH4_H_2)
    extrude(amount=-CUT_EXTRUDE1_DEPTH, mode=Mode.SUBTRACT)


solid = part.part
